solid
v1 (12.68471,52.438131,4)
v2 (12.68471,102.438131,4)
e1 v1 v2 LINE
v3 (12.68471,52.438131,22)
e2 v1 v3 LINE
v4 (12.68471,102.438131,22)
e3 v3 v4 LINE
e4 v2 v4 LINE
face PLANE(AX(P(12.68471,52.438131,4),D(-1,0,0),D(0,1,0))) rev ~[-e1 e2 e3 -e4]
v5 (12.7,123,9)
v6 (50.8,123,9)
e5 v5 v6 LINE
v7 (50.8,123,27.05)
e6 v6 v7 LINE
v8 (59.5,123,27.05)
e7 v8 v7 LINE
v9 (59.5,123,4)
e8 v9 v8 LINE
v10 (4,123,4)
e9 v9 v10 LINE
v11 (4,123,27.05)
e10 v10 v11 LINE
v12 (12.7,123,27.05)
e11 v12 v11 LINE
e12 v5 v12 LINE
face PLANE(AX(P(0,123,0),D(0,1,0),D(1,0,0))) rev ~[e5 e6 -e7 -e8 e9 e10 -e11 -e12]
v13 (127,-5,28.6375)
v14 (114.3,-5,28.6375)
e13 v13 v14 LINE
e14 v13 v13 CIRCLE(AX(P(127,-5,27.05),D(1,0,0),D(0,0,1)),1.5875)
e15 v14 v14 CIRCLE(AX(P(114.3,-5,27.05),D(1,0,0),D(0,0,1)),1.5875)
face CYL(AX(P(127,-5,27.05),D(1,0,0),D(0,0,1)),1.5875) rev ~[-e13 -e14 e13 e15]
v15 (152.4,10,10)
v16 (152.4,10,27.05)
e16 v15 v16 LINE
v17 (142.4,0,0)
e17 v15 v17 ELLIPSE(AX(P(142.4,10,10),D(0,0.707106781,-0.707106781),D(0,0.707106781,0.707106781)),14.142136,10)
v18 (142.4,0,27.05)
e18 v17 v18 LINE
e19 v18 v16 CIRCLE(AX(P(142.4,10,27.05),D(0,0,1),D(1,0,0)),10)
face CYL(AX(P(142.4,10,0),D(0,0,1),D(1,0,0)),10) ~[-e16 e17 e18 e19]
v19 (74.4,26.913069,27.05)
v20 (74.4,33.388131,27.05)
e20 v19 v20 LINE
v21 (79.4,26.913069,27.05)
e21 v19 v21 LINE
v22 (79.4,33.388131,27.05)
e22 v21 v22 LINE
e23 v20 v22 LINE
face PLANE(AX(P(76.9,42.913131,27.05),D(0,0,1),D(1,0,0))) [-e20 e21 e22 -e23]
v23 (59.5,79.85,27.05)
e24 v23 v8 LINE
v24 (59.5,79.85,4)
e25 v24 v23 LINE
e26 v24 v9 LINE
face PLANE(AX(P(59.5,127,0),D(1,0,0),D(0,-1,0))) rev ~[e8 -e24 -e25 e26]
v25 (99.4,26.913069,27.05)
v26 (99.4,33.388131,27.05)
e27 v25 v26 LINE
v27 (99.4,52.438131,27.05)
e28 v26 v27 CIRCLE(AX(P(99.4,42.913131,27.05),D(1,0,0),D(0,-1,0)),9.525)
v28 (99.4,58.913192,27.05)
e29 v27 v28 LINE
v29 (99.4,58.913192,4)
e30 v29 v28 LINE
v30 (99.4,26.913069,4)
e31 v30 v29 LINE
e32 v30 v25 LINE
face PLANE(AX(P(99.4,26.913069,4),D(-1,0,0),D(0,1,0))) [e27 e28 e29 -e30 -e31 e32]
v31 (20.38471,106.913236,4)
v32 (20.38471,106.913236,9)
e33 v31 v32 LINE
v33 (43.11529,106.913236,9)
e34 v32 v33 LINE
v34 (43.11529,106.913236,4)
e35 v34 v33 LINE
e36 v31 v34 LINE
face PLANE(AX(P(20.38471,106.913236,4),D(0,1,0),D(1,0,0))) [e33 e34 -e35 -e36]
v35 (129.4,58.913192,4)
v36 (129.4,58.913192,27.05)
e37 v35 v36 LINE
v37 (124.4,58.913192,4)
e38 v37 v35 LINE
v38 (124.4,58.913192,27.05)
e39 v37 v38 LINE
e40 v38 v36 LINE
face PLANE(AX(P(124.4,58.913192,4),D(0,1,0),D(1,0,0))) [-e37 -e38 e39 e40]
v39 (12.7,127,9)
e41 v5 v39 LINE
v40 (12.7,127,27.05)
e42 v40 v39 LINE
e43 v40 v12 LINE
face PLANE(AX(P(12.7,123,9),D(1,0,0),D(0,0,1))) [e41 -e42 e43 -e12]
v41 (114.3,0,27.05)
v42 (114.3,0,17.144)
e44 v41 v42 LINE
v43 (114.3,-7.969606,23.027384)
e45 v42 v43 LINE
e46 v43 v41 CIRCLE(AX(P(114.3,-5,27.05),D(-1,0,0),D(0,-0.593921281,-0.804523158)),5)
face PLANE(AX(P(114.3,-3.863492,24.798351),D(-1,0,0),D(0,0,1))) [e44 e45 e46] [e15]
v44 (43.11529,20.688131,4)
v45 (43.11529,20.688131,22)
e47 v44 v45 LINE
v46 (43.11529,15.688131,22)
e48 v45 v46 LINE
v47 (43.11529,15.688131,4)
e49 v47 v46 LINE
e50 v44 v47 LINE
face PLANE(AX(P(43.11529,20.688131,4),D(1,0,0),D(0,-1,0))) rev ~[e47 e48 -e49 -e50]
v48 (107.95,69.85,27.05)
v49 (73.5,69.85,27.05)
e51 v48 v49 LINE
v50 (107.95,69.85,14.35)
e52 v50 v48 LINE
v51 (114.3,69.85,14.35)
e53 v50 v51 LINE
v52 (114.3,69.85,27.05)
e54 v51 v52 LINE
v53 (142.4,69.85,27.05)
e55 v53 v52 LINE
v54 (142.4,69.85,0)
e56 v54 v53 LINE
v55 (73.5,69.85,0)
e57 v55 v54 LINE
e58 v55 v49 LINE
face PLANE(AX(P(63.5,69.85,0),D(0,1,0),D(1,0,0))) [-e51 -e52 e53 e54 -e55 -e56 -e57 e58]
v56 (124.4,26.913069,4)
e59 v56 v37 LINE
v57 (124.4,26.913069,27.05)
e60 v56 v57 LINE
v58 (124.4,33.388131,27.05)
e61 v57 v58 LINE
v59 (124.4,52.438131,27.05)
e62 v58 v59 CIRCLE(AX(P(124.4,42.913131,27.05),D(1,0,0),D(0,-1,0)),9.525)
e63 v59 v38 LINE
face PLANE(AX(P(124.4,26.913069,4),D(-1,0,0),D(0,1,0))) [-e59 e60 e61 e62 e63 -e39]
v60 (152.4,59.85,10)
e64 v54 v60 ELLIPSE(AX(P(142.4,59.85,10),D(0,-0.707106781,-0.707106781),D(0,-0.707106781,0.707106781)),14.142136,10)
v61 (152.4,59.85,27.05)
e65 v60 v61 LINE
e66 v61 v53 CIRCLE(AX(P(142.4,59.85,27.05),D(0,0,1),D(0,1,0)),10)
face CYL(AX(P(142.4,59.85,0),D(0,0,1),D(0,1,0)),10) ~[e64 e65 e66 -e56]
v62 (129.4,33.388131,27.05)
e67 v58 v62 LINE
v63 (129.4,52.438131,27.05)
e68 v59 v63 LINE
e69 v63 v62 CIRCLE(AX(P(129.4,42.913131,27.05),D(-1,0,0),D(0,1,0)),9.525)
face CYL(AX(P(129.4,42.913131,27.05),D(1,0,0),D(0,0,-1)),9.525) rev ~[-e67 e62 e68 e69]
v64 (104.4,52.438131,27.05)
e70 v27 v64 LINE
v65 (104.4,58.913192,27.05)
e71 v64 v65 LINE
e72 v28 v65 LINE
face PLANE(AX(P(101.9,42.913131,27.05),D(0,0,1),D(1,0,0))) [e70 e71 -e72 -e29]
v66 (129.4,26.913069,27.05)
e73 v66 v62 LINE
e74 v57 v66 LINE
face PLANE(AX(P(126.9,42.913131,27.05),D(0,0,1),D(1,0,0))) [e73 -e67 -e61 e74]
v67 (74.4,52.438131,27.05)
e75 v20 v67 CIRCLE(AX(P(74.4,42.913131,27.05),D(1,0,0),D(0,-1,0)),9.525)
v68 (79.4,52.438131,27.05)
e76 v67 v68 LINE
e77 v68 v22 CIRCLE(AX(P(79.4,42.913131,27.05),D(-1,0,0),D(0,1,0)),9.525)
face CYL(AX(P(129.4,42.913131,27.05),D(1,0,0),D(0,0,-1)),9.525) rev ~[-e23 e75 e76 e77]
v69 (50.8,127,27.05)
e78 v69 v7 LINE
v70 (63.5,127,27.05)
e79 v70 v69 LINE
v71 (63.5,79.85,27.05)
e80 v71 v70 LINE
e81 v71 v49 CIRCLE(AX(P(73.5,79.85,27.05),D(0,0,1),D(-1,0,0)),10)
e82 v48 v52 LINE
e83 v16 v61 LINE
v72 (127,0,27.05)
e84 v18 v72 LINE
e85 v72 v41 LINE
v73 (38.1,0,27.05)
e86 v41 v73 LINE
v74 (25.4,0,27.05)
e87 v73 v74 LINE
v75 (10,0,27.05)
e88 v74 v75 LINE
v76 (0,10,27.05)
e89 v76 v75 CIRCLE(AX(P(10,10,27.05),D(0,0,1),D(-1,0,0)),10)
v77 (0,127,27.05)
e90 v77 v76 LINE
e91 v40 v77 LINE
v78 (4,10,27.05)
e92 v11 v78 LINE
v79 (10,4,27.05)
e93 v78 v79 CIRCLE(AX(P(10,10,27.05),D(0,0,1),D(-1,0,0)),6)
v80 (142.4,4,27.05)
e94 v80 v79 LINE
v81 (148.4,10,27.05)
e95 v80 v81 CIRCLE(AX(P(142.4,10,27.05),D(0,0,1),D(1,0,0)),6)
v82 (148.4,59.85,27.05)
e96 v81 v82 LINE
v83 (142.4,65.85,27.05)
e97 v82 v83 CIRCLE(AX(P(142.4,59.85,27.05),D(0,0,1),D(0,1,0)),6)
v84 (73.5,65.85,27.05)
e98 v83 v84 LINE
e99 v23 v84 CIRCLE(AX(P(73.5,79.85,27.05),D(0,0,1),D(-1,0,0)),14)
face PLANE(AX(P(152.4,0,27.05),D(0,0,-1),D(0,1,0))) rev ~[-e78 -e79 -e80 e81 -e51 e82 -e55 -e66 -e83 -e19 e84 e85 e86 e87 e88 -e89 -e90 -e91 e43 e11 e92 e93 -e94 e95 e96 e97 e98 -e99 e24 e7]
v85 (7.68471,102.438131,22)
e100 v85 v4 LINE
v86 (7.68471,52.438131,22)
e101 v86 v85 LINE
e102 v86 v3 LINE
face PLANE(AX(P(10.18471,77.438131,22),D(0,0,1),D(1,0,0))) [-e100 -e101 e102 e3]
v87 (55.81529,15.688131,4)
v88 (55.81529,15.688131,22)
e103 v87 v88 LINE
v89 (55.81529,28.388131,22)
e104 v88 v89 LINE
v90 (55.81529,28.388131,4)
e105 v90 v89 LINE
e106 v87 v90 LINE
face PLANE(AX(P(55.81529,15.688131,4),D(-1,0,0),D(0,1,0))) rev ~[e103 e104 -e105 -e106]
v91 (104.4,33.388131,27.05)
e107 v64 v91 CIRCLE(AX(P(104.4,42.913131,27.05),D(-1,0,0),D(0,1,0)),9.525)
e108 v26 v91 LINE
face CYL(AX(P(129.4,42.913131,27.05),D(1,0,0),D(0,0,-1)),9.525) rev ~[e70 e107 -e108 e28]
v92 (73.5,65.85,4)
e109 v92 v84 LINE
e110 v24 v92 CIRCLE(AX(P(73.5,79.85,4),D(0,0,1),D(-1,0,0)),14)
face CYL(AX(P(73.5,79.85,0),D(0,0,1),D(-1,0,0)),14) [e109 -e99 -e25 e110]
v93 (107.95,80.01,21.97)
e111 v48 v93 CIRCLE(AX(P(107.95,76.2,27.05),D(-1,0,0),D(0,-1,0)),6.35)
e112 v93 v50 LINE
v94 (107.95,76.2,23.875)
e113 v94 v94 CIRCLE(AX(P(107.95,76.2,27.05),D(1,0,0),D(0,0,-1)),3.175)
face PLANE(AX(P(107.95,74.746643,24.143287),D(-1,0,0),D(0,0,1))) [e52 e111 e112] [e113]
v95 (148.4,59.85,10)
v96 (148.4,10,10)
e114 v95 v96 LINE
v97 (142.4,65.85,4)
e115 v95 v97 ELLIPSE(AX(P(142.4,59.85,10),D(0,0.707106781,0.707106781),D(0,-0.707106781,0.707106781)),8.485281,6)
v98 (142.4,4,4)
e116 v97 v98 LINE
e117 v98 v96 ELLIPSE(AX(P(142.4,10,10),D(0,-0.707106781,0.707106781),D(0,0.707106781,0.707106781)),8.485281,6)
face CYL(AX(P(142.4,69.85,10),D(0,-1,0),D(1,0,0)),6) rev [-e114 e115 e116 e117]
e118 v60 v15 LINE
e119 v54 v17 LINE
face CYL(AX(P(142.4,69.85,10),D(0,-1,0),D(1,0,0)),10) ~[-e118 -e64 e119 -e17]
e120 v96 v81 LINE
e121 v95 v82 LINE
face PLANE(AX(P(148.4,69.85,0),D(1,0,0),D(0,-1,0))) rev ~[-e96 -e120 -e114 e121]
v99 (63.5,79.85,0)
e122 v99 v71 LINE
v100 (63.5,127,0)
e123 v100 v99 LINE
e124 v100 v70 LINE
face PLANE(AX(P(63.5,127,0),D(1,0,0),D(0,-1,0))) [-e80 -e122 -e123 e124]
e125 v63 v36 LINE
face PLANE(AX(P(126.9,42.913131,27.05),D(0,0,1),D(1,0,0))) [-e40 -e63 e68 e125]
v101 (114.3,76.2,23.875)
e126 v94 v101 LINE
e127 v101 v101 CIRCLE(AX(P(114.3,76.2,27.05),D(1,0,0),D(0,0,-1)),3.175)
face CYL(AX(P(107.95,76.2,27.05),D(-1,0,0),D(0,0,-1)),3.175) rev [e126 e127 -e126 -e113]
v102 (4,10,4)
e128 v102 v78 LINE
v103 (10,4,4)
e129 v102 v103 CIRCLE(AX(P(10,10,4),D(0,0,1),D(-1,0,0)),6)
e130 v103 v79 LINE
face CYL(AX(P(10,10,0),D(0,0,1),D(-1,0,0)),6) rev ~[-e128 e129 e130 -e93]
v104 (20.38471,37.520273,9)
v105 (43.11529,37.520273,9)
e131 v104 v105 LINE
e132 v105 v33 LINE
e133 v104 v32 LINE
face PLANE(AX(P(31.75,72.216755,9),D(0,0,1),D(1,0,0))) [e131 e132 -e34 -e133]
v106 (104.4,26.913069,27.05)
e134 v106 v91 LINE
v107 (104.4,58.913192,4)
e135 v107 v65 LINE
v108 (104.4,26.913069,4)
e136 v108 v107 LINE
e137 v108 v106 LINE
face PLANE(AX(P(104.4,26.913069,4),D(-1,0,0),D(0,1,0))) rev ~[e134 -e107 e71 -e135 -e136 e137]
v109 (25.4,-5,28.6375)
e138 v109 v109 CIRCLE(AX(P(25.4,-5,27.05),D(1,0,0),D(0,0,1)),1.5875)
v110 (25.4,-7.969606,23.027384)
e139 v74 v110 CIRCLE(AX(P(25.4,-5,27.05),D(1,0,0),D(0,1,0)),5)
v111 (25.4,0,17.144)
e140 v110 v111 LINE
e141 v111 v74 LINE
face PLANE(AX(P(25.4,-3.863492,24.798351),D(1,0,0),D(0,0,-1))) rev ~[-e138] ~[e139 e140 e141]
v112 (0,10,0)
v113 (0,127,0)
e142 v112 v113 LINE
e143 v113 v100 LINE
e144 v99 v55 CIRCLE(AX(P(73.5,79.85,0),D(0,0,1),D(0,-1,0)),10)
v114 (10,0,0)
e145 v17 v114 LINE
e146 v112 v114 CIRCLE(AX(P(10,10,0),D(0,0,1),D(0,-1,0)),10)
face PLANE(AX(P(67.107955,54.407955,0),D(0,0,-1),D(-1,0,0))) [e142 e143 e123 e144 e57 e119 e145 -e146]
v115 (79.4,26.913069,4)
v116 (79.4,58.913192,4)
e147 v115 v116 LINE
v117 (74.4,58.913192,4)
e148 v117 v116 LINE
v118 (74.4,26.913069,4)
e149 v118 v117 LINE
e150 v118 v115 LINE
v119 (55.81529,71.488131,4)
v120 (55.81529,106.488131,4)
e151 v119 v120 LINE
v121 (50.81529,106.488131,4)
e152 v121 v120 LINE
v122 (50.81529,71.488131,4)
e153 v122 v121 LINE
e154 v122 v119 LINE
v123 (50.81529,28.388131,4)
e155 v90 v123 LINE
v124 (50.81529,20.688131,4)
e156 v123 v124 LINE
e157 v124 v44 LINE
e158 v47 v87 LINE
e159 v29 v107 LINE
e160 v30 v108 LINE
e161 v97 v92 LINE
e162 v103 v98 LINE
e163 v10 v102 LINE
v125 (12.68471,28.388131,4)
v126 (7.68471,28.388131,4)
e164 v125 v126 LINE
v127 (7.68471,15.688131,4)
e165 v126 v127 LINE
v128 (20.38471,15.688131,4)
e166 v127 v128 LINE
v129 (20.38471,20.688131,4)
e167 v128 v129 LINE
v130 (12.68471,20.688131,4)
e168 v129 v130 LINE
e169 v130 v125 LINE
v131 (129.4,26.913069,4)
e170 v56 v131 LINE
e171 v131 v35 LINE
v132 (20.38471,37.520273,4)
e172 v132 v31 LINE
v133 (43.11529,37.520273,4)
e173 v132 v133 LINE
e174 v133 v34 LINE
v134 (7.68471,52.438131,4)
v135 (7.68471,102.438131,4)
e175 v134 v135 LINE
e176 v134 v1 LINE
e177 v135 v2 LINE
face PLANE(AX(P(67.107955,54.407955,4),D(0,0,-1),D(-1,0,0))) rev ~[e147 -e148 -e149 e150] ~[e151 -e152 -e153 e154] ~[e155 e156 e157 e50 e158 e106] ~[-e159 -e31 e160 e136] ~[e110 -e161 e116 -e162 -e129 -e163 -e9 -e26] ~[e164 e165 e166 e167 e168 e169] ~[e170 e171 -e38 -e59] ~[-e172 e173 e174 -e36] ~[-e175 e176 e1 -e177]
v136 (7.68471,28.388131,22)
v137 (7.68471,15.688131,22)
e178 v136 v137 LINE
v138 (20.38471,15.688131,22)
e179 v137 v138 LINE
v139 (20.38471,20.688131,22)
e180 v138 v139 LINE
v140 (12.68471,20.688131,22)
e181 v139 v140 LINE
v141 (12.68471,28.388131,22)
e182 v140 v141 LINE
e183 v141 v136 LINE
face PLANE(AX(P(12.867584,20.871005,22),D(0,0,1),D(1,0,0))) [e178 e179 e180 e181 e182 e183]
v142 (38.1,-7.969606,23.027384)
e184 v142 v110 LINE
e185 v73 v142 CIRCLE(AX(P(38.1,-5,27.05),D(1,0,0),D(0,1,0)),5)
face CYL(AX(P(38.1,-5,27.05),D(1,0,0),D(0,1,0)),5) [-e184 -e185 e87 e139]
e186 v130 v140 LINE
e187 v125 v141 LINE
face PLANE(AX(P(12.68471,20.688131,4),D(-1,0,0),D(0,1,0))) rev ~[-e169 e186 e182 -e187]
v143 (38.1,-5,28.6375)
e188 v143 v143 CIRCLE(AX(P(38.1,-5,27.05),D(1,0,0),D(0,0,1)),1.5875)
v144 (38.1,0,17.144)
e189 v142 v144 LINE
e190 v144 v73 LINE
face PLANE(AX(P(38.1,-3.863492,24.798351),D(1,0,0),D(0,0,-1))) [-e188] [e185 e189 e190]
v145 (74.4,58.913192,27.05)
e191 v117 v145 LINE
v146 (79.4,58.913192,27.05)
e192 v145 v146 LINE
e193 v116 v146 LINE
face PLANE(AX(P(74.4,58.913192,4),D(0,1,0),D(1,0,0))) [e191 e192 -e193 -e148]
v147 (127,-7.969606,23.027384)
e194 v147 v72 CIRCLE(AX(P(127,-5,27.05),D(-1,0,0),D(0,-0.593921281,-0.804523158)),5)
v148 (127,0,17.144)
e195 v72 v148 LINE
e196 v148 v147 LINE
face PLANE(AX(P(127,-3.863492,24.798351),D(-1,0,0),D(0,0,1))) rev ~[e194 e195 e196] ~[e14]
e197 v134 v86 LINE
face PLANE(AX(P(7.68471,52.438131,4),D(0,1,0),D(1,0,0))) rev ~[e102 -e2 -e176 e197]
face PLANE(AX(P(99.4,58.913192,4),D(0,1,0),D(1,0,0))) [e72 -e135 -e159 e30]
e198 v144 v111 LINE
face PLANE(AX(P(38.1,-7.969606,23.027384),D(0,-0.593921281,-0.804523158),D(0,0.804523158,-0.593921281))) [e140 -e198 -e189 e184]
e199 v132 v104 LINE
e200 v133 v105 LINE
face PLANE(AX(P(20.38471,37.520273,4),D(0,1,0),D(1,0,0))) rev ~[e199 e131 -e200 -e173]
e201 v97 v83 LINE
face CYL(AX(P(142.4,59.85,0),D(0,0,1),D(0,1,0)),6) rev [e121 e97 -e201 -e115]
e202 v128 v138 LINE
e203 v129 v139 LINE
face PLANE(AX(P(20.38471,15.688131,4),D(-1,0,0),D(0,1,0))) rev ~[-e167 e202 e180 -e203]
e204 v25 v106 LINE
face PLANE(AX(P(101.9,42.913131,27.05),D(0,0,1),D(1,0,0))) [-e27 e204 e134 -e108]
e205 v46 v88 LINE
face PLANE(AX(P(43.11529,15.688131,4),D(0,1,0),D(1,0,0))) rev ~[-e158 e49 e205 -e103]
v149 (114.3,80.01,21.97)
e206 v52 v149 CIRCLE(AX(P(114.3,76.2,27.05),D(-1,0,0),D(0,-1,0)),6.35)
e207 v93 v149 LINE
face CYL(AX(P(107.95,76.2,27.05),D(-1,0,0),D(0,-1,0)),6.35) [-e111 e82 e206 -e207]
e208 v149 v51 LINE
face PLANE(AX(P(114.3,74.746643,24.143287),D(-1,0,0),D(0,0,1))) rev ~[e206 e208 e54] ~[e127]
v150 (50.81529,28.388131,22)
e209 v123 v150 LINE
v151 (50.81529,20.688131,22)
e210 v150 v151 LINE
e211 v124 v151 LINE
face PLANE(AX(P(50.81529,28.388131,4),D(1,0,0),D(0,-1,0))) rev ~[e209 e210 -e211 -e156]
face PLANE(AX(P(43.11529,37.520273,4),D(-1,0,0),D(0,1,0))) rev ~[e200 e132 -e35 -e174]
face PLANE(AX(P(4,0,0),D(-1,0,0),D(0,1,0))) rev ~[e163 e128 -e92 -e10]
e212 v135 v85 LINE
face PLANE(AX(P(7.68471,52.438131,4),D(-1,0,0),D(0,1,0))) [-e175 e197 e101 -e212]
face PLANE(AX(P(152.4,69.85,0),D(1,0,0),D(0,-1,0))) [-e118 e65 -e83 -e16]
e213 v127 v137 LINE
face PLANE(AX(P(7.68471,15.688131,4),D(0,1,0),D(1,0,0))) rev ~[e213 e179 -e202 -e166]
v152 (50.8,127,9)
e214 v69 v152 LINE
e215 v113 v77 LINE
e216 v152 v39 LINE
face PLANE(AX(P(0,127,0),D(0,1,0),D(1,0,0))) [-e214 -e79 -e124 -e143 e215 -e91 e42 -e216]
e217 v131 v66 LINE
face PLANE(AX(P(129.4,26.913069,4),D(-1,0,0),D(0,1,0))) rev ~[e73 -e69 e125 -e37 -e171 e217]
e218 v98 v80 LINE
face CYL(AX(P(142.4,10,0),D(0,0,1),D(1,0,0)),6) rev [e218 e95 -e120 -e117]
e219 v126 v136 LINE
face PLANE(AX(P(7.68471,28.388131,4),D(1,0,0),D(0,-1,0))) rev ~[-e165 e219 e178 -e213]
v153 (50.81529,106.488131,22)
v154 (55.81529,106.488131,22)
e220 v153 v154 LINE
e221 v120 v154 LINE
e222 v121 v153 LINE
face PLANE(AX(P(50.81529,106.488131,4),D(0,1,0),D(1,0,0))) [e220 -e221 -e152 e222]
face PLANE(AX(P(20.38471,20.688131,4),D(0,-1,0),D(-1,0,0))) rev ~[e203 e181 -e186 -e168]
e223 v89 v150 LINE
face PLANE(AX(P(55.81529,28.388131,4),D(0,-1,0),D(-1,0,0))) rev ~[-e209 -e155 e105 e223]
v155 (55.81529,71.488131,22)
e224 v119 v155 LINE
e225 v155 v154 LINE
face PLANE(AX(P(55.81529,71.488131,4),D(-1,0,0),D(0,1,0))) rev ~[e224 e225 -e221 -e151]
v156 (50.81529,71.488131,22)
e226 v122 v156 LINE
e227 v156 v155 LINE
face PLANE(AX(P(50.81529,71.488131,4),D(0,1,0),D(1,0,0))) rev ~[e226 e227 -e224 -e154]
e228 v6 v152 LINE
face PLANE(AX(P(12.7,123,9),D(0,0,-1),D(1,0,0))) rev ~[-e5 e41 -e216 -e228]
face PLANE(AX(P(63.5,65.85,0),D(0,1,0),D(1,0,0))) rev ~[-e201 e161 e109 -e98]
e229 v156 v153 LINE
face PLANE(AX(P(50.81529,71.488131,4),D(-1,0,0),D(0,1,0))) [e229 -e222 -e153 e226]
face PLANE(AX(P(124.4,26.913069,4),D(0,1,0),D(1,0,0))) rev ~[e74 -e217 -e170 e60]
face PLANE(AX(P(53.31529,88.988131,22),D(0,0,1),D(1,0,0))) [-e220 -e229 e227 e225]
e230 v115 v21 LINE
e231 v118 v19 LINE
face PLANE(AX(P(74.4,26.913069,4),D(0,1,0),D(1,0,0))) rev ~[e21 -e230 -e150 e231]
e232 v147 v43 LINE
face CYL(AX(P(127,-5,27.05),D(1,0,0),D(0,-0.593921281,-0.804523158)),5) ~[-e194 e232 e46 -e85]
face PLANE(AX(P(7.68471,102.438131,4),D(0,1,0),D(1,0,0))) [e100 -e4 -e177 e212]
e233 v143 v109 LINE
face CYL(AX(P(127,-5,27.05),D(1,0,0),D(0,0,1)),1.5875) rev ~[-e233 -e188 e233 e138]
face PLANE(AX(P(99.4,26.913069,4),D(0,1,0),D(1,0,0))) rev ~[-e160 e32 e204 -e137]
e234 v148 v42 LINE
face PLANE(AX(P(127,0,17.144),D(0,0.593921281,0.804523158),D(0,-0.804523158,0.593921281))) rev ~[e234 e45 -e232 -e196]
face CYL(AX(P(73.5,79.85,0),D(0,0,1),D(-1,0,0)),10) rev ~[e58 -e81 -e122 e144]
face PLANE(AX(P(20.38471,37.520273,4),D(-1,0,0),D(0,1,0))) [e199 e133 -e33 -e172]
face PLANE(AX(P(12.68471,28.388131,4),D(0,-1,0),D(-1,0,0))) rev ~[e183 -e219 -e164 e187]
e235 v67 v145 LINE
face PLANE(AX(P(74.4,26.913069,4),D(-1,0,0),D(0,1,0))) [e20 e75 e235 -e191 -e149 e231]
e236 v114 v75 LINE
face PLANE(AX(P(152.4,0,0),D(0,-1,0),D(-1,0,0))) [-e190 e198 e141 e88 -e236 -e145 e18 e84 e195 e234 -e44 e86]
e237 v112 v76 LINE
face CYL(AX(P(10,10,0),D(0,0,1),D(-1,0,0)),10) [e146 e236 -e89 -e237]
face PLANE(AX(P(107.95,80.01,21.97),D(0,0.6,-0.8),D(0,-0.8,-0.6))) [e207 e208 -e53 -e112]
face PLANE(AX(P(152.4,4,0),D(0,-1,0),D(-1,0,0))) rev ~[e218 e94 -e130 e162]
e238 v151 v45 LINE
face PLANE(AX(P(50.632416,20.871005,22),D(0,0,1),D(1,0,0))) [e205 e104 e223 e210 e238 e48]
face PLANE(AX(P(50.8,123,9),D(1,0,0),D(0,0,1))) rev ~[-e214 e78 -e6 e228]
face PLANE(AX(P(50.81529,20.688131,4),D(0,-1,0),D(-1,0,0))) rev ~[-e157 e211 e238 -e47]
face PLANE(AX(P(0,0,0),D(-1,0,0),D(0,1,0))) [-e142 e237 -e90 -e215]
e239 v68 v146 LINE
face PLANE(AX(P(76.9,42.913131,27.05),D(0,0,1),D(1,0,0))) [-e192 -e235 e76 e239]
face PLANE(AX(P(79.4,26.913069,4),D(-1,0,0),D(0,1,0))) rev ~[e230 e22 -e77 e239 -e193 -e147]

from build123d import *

# Parameters (mm, degrees)
SALIENTE_EXTRUIR1_DEPTH = 54.1
REDONDEO1_R             = 10
CROQUIS2_W              = 27.05
CROQUIS2_H              = 127
CORTAR_EXTRUIR1_DEPTH   = 206.624828267
VACIADO1_T              = -4
CROQUIS3_W              = 22.730580246
CROQUIS3_H              = 69.392963169
SALIENTE_EXTRUIR2_DEPTH = 5
CROQUIS3_3_W            = 5
CROQUIS3_3_H            = 50
CROQUIS3_3_H_2          = 35
SALIENTE_EXTRUIR3_DEPTH = 18
CROQUIS4_W              = 5
CROQUIS4_H              = 32.000123075
SALIENTE_EXTRUIR4_DEPTH = 23.05
CORTAR_EXTRUIR2_REACH   = 185.317
CROQUIS5_R              = 9.525
CROQUIS6_W              = 38.1
CROQUIS6_H              = 42.277753805
CORTAR_EXTRUIR3_DEPTH   = 18
SALIENTE_EXTRUIR5_DEPTH = 12.7
SALIENTE_EXTRUIR6_START = -12.7
SALIENTE_EXTRUIR6_DEPTH = 12.7
CROQUIS9_R              = 1.5875
CORTAR_EXTRUIR4_DEPTH   = 183.442326503
CROQUIS10_R             = 3.175
SALIENTE_EXTRUIR7_DEPTH = 6.35


with BuildPart() as part:
    # Croquis1 → Saliente-Extruir1 (new body)
    with BuildSketch(Plane.XY):
        Polygon((0, 0), (0, 127), (63.5, 127), (63.5, 69.85), (152.4, 69.85), (152.4, 0), align=None)
    extrude(amount=SALIENTE_EXTRUIR1_DEPTH)

    # Redondeo1
    redondeo1_edges = [part.edges().sort_by_distance(p)[0] for p in [
        (63.5, 69.85, 27.05),
        (152.4, 69.85, 27.05),
        (152.4, 0, 27.05),
        (0, 0, 27.05),
        (152.4, 34.925, 0),
    ]]
    fillet(redondeo1_edges, radius=REDONDEO1_R)

    # Croquis2 → Cortar-Extruir1 (cut, through all)
    with BuildSketch(Plane(origin=(152.4, 0, 0), x_dir=(0, 0, -1), z_dir=(1, 0, 0))):
        with Locations((-40.575, 63.5)):
            Rectangle(CROQUIS2_W, CROQUIS2_H)
    extrude(amount=-CORTAR_EXTRUIR1_DEPTH, mode=Mode.SUBTRACT)

    # Vaciado1
    vaciado1_openings = [part.faces().sort_by_distance(p)[0] for p in [
        (64.737748774, 51.223088278, 27.05),
    ]]
    offset(amount=VACIADO1_T, openings=vaciado1_openings)

    # Croquis3 → Saliente-Extruir2 (add)
    with BuildSketch(Plane.XY.offset(4)):
        with Locations((31.75, 72.216754897)):
            Rectangle(CROQUIS3_W, CROQUIS3_H)
    extrude(amount=SALIENTE_EXTRUIR2_DEPTH)

    # Croquis3<3> → Saliente-Extruir3 (add)
    with BuildSketch(Plane.XY.offset(4)):
        with Locations((10.184709877, 77.438130808)):
            Rectangle(CROQUIS3_3_W, CROQUIS3_3_H)
        with Locations((53.315290123, 88.988130808)):
            Rectangle(CROQUIS3_3_W, CROQUIS3_3_H_2)
        Polygon((50.815290123, 20.688130808), (43.115290123, 20.688130808), (43.115290123, 15.688130808), (55.815290123, 15.688130808), (55.815290123, 28.388130808), (50.815290123, 28.388130808), align=None)
        Polygon((20.384709877, 20.688130808), (12.684709877, 20.688130808), (12.684709877, 28.388130808), (7.684709877, 28.388130808), (7.684709877, 15.688130808), (20.384709877, 15.688130808), align=None)
    extrude(amount=SALIENTE_EXTRUIR3_DEPTH)

    # Croquis4 → Saliente-Extruir4 (add)
    with BuildSketch(Plane.XY.offset(4)):
        with Locations((76.9, 42.913130808)):
            Rectangle(CROQUIS4_W, CROQUIS4_H)
        with Locations((101.9, 42.913130808)):
            Rectangle(CROQUIS4_W, CROQUIS4_H)
        with Locations((126.9, 42.913130808)):
            Rectangle(CROQUIS4_W, CROQUIS4_H)
    extrude(amount=SALIENTE_EXTRUIR4_DEPTH)

    # Cortar-Extruir2: up to this face of the body (flat: up to its plane)
    cortar_extruir2_end = Plane(part.part.faces().sort_by_distance((55.815290123, 22.038130808, 13))[0])
    # Croquis5 → Cortar-Extruir2 (cut, up to the picked face)
    with BuildSketch(Plane(origin=(129.4, 0, 0), x_dir=(0, 0, -1), z_dir=(1, 0, 0)), mode=Mode.PRIVATE) as cortar_extruir2_sk1:
        with Locations((-27.05, 42.913130808)):
            Circle(CROQUIS5_R)
    cortar_extruir2_tool1 = split(extrude(cortar_extruir2_sk1.sketch, amount=-CORTAR_EXTRUIR2_REACH, mode=Mode.PRIVATE), bisect_by=cortar_extruir2_end, keep=Keep.BOTH, mode=Mode.PRIVATE)
    add(cortar_extruir2_tool1.solids().sort_by(Axis((129.4, 42.913131, 27.05), (-1, 0, 0)))[0], mode=Mode.SUBTRACT)

    # Croquis6 → Cortar-Extruir3 (cut)
    with BuildSketch(Plane.XZ.offset(-123)):
        with Locations((31.75, 30.138876903)):
            Rectangle(CROQUIS6_W, CROQUIS6_H)
    extrude(amount=-CORTAR_EXTRUIR3_DEPTH, mode=Mode.SUBTRACT)

    # Croquis7 → Saliente-Extruir5 (add)
    with BuildSketch(Plane(origin=(127, 0, 0), x_dir=(0, 0, -1), z_dir=(1, 0, 0))):
        with BuildLine():
            Line((-27.05, 0), (-17.144, 0))
            Line((-17.144, 0), (-23.027384209, -7.969606405))
            ThreePointArc((-23.027384209, -7.969606405), (-31.513632603, -7.252994449), (-27.05, 0))
        make_face()
    extrude(amount=-SALIENTE_EXTRUIR5_DEPTH)

    # Croquis8 → Saliente-Extruir6 (add)
    with BuildSketch(Plane.ZY.offset(-25.4).offset(SALIENTE_EXTRUIR6_START)):
        with BuildLine():
            Line((23.027384209, -7.969606405), (17.144, 0))
            Line((17.144, 0), (27.05, 0))
            ThreePointArc((27.05, 0), (31.513632603, -7.252994449), (23.027384209, -7.969606405))
        make_face()
    extrude(amount=SALIENTE_EXTRUIR6_DEPTH)

    # Croquis9 → Cortar-Extruir4 (cut, through all)
    with BuildSketch(Plane(origin=(127, 0, 0), x_dir=(0, 0, -1), z_dir=(1, 0, 0))):
        with Locations(Location((-27.05, -5, 0), (0, 0, 180))):
            Circle(CROQUIS9_R)
    extrude(amount=-CORTAR_EXTRUIR4_DEPTH, mode=Mode.SUBTRACT)

    # Croquis10 → Saliente-Extruir7 (add)
    with BuildSketch(Plane(origin=(107.95, 0, 0), x_dir=(0, 0, -1), z_dir=(1, 0, 0))):
        with BuildLine():
            Line((-21.97, 80.01), (-14.35, 69.85))
            Line((-14.35, 69.85), (-27.05, 69.85))
            ThreePointArc((-27.05, 69.85), (-32.729612663, 79.039806331), (-21.97, 80.01))
        make_face()
        with Locations((-27.05, 76.2)):
            Circle(CROQUIS10_R, mode=Mode.SUBTRACT)
    extrude(amount=SALIENTE_EXTRUIR7_DEPTH)


solid = part.part
